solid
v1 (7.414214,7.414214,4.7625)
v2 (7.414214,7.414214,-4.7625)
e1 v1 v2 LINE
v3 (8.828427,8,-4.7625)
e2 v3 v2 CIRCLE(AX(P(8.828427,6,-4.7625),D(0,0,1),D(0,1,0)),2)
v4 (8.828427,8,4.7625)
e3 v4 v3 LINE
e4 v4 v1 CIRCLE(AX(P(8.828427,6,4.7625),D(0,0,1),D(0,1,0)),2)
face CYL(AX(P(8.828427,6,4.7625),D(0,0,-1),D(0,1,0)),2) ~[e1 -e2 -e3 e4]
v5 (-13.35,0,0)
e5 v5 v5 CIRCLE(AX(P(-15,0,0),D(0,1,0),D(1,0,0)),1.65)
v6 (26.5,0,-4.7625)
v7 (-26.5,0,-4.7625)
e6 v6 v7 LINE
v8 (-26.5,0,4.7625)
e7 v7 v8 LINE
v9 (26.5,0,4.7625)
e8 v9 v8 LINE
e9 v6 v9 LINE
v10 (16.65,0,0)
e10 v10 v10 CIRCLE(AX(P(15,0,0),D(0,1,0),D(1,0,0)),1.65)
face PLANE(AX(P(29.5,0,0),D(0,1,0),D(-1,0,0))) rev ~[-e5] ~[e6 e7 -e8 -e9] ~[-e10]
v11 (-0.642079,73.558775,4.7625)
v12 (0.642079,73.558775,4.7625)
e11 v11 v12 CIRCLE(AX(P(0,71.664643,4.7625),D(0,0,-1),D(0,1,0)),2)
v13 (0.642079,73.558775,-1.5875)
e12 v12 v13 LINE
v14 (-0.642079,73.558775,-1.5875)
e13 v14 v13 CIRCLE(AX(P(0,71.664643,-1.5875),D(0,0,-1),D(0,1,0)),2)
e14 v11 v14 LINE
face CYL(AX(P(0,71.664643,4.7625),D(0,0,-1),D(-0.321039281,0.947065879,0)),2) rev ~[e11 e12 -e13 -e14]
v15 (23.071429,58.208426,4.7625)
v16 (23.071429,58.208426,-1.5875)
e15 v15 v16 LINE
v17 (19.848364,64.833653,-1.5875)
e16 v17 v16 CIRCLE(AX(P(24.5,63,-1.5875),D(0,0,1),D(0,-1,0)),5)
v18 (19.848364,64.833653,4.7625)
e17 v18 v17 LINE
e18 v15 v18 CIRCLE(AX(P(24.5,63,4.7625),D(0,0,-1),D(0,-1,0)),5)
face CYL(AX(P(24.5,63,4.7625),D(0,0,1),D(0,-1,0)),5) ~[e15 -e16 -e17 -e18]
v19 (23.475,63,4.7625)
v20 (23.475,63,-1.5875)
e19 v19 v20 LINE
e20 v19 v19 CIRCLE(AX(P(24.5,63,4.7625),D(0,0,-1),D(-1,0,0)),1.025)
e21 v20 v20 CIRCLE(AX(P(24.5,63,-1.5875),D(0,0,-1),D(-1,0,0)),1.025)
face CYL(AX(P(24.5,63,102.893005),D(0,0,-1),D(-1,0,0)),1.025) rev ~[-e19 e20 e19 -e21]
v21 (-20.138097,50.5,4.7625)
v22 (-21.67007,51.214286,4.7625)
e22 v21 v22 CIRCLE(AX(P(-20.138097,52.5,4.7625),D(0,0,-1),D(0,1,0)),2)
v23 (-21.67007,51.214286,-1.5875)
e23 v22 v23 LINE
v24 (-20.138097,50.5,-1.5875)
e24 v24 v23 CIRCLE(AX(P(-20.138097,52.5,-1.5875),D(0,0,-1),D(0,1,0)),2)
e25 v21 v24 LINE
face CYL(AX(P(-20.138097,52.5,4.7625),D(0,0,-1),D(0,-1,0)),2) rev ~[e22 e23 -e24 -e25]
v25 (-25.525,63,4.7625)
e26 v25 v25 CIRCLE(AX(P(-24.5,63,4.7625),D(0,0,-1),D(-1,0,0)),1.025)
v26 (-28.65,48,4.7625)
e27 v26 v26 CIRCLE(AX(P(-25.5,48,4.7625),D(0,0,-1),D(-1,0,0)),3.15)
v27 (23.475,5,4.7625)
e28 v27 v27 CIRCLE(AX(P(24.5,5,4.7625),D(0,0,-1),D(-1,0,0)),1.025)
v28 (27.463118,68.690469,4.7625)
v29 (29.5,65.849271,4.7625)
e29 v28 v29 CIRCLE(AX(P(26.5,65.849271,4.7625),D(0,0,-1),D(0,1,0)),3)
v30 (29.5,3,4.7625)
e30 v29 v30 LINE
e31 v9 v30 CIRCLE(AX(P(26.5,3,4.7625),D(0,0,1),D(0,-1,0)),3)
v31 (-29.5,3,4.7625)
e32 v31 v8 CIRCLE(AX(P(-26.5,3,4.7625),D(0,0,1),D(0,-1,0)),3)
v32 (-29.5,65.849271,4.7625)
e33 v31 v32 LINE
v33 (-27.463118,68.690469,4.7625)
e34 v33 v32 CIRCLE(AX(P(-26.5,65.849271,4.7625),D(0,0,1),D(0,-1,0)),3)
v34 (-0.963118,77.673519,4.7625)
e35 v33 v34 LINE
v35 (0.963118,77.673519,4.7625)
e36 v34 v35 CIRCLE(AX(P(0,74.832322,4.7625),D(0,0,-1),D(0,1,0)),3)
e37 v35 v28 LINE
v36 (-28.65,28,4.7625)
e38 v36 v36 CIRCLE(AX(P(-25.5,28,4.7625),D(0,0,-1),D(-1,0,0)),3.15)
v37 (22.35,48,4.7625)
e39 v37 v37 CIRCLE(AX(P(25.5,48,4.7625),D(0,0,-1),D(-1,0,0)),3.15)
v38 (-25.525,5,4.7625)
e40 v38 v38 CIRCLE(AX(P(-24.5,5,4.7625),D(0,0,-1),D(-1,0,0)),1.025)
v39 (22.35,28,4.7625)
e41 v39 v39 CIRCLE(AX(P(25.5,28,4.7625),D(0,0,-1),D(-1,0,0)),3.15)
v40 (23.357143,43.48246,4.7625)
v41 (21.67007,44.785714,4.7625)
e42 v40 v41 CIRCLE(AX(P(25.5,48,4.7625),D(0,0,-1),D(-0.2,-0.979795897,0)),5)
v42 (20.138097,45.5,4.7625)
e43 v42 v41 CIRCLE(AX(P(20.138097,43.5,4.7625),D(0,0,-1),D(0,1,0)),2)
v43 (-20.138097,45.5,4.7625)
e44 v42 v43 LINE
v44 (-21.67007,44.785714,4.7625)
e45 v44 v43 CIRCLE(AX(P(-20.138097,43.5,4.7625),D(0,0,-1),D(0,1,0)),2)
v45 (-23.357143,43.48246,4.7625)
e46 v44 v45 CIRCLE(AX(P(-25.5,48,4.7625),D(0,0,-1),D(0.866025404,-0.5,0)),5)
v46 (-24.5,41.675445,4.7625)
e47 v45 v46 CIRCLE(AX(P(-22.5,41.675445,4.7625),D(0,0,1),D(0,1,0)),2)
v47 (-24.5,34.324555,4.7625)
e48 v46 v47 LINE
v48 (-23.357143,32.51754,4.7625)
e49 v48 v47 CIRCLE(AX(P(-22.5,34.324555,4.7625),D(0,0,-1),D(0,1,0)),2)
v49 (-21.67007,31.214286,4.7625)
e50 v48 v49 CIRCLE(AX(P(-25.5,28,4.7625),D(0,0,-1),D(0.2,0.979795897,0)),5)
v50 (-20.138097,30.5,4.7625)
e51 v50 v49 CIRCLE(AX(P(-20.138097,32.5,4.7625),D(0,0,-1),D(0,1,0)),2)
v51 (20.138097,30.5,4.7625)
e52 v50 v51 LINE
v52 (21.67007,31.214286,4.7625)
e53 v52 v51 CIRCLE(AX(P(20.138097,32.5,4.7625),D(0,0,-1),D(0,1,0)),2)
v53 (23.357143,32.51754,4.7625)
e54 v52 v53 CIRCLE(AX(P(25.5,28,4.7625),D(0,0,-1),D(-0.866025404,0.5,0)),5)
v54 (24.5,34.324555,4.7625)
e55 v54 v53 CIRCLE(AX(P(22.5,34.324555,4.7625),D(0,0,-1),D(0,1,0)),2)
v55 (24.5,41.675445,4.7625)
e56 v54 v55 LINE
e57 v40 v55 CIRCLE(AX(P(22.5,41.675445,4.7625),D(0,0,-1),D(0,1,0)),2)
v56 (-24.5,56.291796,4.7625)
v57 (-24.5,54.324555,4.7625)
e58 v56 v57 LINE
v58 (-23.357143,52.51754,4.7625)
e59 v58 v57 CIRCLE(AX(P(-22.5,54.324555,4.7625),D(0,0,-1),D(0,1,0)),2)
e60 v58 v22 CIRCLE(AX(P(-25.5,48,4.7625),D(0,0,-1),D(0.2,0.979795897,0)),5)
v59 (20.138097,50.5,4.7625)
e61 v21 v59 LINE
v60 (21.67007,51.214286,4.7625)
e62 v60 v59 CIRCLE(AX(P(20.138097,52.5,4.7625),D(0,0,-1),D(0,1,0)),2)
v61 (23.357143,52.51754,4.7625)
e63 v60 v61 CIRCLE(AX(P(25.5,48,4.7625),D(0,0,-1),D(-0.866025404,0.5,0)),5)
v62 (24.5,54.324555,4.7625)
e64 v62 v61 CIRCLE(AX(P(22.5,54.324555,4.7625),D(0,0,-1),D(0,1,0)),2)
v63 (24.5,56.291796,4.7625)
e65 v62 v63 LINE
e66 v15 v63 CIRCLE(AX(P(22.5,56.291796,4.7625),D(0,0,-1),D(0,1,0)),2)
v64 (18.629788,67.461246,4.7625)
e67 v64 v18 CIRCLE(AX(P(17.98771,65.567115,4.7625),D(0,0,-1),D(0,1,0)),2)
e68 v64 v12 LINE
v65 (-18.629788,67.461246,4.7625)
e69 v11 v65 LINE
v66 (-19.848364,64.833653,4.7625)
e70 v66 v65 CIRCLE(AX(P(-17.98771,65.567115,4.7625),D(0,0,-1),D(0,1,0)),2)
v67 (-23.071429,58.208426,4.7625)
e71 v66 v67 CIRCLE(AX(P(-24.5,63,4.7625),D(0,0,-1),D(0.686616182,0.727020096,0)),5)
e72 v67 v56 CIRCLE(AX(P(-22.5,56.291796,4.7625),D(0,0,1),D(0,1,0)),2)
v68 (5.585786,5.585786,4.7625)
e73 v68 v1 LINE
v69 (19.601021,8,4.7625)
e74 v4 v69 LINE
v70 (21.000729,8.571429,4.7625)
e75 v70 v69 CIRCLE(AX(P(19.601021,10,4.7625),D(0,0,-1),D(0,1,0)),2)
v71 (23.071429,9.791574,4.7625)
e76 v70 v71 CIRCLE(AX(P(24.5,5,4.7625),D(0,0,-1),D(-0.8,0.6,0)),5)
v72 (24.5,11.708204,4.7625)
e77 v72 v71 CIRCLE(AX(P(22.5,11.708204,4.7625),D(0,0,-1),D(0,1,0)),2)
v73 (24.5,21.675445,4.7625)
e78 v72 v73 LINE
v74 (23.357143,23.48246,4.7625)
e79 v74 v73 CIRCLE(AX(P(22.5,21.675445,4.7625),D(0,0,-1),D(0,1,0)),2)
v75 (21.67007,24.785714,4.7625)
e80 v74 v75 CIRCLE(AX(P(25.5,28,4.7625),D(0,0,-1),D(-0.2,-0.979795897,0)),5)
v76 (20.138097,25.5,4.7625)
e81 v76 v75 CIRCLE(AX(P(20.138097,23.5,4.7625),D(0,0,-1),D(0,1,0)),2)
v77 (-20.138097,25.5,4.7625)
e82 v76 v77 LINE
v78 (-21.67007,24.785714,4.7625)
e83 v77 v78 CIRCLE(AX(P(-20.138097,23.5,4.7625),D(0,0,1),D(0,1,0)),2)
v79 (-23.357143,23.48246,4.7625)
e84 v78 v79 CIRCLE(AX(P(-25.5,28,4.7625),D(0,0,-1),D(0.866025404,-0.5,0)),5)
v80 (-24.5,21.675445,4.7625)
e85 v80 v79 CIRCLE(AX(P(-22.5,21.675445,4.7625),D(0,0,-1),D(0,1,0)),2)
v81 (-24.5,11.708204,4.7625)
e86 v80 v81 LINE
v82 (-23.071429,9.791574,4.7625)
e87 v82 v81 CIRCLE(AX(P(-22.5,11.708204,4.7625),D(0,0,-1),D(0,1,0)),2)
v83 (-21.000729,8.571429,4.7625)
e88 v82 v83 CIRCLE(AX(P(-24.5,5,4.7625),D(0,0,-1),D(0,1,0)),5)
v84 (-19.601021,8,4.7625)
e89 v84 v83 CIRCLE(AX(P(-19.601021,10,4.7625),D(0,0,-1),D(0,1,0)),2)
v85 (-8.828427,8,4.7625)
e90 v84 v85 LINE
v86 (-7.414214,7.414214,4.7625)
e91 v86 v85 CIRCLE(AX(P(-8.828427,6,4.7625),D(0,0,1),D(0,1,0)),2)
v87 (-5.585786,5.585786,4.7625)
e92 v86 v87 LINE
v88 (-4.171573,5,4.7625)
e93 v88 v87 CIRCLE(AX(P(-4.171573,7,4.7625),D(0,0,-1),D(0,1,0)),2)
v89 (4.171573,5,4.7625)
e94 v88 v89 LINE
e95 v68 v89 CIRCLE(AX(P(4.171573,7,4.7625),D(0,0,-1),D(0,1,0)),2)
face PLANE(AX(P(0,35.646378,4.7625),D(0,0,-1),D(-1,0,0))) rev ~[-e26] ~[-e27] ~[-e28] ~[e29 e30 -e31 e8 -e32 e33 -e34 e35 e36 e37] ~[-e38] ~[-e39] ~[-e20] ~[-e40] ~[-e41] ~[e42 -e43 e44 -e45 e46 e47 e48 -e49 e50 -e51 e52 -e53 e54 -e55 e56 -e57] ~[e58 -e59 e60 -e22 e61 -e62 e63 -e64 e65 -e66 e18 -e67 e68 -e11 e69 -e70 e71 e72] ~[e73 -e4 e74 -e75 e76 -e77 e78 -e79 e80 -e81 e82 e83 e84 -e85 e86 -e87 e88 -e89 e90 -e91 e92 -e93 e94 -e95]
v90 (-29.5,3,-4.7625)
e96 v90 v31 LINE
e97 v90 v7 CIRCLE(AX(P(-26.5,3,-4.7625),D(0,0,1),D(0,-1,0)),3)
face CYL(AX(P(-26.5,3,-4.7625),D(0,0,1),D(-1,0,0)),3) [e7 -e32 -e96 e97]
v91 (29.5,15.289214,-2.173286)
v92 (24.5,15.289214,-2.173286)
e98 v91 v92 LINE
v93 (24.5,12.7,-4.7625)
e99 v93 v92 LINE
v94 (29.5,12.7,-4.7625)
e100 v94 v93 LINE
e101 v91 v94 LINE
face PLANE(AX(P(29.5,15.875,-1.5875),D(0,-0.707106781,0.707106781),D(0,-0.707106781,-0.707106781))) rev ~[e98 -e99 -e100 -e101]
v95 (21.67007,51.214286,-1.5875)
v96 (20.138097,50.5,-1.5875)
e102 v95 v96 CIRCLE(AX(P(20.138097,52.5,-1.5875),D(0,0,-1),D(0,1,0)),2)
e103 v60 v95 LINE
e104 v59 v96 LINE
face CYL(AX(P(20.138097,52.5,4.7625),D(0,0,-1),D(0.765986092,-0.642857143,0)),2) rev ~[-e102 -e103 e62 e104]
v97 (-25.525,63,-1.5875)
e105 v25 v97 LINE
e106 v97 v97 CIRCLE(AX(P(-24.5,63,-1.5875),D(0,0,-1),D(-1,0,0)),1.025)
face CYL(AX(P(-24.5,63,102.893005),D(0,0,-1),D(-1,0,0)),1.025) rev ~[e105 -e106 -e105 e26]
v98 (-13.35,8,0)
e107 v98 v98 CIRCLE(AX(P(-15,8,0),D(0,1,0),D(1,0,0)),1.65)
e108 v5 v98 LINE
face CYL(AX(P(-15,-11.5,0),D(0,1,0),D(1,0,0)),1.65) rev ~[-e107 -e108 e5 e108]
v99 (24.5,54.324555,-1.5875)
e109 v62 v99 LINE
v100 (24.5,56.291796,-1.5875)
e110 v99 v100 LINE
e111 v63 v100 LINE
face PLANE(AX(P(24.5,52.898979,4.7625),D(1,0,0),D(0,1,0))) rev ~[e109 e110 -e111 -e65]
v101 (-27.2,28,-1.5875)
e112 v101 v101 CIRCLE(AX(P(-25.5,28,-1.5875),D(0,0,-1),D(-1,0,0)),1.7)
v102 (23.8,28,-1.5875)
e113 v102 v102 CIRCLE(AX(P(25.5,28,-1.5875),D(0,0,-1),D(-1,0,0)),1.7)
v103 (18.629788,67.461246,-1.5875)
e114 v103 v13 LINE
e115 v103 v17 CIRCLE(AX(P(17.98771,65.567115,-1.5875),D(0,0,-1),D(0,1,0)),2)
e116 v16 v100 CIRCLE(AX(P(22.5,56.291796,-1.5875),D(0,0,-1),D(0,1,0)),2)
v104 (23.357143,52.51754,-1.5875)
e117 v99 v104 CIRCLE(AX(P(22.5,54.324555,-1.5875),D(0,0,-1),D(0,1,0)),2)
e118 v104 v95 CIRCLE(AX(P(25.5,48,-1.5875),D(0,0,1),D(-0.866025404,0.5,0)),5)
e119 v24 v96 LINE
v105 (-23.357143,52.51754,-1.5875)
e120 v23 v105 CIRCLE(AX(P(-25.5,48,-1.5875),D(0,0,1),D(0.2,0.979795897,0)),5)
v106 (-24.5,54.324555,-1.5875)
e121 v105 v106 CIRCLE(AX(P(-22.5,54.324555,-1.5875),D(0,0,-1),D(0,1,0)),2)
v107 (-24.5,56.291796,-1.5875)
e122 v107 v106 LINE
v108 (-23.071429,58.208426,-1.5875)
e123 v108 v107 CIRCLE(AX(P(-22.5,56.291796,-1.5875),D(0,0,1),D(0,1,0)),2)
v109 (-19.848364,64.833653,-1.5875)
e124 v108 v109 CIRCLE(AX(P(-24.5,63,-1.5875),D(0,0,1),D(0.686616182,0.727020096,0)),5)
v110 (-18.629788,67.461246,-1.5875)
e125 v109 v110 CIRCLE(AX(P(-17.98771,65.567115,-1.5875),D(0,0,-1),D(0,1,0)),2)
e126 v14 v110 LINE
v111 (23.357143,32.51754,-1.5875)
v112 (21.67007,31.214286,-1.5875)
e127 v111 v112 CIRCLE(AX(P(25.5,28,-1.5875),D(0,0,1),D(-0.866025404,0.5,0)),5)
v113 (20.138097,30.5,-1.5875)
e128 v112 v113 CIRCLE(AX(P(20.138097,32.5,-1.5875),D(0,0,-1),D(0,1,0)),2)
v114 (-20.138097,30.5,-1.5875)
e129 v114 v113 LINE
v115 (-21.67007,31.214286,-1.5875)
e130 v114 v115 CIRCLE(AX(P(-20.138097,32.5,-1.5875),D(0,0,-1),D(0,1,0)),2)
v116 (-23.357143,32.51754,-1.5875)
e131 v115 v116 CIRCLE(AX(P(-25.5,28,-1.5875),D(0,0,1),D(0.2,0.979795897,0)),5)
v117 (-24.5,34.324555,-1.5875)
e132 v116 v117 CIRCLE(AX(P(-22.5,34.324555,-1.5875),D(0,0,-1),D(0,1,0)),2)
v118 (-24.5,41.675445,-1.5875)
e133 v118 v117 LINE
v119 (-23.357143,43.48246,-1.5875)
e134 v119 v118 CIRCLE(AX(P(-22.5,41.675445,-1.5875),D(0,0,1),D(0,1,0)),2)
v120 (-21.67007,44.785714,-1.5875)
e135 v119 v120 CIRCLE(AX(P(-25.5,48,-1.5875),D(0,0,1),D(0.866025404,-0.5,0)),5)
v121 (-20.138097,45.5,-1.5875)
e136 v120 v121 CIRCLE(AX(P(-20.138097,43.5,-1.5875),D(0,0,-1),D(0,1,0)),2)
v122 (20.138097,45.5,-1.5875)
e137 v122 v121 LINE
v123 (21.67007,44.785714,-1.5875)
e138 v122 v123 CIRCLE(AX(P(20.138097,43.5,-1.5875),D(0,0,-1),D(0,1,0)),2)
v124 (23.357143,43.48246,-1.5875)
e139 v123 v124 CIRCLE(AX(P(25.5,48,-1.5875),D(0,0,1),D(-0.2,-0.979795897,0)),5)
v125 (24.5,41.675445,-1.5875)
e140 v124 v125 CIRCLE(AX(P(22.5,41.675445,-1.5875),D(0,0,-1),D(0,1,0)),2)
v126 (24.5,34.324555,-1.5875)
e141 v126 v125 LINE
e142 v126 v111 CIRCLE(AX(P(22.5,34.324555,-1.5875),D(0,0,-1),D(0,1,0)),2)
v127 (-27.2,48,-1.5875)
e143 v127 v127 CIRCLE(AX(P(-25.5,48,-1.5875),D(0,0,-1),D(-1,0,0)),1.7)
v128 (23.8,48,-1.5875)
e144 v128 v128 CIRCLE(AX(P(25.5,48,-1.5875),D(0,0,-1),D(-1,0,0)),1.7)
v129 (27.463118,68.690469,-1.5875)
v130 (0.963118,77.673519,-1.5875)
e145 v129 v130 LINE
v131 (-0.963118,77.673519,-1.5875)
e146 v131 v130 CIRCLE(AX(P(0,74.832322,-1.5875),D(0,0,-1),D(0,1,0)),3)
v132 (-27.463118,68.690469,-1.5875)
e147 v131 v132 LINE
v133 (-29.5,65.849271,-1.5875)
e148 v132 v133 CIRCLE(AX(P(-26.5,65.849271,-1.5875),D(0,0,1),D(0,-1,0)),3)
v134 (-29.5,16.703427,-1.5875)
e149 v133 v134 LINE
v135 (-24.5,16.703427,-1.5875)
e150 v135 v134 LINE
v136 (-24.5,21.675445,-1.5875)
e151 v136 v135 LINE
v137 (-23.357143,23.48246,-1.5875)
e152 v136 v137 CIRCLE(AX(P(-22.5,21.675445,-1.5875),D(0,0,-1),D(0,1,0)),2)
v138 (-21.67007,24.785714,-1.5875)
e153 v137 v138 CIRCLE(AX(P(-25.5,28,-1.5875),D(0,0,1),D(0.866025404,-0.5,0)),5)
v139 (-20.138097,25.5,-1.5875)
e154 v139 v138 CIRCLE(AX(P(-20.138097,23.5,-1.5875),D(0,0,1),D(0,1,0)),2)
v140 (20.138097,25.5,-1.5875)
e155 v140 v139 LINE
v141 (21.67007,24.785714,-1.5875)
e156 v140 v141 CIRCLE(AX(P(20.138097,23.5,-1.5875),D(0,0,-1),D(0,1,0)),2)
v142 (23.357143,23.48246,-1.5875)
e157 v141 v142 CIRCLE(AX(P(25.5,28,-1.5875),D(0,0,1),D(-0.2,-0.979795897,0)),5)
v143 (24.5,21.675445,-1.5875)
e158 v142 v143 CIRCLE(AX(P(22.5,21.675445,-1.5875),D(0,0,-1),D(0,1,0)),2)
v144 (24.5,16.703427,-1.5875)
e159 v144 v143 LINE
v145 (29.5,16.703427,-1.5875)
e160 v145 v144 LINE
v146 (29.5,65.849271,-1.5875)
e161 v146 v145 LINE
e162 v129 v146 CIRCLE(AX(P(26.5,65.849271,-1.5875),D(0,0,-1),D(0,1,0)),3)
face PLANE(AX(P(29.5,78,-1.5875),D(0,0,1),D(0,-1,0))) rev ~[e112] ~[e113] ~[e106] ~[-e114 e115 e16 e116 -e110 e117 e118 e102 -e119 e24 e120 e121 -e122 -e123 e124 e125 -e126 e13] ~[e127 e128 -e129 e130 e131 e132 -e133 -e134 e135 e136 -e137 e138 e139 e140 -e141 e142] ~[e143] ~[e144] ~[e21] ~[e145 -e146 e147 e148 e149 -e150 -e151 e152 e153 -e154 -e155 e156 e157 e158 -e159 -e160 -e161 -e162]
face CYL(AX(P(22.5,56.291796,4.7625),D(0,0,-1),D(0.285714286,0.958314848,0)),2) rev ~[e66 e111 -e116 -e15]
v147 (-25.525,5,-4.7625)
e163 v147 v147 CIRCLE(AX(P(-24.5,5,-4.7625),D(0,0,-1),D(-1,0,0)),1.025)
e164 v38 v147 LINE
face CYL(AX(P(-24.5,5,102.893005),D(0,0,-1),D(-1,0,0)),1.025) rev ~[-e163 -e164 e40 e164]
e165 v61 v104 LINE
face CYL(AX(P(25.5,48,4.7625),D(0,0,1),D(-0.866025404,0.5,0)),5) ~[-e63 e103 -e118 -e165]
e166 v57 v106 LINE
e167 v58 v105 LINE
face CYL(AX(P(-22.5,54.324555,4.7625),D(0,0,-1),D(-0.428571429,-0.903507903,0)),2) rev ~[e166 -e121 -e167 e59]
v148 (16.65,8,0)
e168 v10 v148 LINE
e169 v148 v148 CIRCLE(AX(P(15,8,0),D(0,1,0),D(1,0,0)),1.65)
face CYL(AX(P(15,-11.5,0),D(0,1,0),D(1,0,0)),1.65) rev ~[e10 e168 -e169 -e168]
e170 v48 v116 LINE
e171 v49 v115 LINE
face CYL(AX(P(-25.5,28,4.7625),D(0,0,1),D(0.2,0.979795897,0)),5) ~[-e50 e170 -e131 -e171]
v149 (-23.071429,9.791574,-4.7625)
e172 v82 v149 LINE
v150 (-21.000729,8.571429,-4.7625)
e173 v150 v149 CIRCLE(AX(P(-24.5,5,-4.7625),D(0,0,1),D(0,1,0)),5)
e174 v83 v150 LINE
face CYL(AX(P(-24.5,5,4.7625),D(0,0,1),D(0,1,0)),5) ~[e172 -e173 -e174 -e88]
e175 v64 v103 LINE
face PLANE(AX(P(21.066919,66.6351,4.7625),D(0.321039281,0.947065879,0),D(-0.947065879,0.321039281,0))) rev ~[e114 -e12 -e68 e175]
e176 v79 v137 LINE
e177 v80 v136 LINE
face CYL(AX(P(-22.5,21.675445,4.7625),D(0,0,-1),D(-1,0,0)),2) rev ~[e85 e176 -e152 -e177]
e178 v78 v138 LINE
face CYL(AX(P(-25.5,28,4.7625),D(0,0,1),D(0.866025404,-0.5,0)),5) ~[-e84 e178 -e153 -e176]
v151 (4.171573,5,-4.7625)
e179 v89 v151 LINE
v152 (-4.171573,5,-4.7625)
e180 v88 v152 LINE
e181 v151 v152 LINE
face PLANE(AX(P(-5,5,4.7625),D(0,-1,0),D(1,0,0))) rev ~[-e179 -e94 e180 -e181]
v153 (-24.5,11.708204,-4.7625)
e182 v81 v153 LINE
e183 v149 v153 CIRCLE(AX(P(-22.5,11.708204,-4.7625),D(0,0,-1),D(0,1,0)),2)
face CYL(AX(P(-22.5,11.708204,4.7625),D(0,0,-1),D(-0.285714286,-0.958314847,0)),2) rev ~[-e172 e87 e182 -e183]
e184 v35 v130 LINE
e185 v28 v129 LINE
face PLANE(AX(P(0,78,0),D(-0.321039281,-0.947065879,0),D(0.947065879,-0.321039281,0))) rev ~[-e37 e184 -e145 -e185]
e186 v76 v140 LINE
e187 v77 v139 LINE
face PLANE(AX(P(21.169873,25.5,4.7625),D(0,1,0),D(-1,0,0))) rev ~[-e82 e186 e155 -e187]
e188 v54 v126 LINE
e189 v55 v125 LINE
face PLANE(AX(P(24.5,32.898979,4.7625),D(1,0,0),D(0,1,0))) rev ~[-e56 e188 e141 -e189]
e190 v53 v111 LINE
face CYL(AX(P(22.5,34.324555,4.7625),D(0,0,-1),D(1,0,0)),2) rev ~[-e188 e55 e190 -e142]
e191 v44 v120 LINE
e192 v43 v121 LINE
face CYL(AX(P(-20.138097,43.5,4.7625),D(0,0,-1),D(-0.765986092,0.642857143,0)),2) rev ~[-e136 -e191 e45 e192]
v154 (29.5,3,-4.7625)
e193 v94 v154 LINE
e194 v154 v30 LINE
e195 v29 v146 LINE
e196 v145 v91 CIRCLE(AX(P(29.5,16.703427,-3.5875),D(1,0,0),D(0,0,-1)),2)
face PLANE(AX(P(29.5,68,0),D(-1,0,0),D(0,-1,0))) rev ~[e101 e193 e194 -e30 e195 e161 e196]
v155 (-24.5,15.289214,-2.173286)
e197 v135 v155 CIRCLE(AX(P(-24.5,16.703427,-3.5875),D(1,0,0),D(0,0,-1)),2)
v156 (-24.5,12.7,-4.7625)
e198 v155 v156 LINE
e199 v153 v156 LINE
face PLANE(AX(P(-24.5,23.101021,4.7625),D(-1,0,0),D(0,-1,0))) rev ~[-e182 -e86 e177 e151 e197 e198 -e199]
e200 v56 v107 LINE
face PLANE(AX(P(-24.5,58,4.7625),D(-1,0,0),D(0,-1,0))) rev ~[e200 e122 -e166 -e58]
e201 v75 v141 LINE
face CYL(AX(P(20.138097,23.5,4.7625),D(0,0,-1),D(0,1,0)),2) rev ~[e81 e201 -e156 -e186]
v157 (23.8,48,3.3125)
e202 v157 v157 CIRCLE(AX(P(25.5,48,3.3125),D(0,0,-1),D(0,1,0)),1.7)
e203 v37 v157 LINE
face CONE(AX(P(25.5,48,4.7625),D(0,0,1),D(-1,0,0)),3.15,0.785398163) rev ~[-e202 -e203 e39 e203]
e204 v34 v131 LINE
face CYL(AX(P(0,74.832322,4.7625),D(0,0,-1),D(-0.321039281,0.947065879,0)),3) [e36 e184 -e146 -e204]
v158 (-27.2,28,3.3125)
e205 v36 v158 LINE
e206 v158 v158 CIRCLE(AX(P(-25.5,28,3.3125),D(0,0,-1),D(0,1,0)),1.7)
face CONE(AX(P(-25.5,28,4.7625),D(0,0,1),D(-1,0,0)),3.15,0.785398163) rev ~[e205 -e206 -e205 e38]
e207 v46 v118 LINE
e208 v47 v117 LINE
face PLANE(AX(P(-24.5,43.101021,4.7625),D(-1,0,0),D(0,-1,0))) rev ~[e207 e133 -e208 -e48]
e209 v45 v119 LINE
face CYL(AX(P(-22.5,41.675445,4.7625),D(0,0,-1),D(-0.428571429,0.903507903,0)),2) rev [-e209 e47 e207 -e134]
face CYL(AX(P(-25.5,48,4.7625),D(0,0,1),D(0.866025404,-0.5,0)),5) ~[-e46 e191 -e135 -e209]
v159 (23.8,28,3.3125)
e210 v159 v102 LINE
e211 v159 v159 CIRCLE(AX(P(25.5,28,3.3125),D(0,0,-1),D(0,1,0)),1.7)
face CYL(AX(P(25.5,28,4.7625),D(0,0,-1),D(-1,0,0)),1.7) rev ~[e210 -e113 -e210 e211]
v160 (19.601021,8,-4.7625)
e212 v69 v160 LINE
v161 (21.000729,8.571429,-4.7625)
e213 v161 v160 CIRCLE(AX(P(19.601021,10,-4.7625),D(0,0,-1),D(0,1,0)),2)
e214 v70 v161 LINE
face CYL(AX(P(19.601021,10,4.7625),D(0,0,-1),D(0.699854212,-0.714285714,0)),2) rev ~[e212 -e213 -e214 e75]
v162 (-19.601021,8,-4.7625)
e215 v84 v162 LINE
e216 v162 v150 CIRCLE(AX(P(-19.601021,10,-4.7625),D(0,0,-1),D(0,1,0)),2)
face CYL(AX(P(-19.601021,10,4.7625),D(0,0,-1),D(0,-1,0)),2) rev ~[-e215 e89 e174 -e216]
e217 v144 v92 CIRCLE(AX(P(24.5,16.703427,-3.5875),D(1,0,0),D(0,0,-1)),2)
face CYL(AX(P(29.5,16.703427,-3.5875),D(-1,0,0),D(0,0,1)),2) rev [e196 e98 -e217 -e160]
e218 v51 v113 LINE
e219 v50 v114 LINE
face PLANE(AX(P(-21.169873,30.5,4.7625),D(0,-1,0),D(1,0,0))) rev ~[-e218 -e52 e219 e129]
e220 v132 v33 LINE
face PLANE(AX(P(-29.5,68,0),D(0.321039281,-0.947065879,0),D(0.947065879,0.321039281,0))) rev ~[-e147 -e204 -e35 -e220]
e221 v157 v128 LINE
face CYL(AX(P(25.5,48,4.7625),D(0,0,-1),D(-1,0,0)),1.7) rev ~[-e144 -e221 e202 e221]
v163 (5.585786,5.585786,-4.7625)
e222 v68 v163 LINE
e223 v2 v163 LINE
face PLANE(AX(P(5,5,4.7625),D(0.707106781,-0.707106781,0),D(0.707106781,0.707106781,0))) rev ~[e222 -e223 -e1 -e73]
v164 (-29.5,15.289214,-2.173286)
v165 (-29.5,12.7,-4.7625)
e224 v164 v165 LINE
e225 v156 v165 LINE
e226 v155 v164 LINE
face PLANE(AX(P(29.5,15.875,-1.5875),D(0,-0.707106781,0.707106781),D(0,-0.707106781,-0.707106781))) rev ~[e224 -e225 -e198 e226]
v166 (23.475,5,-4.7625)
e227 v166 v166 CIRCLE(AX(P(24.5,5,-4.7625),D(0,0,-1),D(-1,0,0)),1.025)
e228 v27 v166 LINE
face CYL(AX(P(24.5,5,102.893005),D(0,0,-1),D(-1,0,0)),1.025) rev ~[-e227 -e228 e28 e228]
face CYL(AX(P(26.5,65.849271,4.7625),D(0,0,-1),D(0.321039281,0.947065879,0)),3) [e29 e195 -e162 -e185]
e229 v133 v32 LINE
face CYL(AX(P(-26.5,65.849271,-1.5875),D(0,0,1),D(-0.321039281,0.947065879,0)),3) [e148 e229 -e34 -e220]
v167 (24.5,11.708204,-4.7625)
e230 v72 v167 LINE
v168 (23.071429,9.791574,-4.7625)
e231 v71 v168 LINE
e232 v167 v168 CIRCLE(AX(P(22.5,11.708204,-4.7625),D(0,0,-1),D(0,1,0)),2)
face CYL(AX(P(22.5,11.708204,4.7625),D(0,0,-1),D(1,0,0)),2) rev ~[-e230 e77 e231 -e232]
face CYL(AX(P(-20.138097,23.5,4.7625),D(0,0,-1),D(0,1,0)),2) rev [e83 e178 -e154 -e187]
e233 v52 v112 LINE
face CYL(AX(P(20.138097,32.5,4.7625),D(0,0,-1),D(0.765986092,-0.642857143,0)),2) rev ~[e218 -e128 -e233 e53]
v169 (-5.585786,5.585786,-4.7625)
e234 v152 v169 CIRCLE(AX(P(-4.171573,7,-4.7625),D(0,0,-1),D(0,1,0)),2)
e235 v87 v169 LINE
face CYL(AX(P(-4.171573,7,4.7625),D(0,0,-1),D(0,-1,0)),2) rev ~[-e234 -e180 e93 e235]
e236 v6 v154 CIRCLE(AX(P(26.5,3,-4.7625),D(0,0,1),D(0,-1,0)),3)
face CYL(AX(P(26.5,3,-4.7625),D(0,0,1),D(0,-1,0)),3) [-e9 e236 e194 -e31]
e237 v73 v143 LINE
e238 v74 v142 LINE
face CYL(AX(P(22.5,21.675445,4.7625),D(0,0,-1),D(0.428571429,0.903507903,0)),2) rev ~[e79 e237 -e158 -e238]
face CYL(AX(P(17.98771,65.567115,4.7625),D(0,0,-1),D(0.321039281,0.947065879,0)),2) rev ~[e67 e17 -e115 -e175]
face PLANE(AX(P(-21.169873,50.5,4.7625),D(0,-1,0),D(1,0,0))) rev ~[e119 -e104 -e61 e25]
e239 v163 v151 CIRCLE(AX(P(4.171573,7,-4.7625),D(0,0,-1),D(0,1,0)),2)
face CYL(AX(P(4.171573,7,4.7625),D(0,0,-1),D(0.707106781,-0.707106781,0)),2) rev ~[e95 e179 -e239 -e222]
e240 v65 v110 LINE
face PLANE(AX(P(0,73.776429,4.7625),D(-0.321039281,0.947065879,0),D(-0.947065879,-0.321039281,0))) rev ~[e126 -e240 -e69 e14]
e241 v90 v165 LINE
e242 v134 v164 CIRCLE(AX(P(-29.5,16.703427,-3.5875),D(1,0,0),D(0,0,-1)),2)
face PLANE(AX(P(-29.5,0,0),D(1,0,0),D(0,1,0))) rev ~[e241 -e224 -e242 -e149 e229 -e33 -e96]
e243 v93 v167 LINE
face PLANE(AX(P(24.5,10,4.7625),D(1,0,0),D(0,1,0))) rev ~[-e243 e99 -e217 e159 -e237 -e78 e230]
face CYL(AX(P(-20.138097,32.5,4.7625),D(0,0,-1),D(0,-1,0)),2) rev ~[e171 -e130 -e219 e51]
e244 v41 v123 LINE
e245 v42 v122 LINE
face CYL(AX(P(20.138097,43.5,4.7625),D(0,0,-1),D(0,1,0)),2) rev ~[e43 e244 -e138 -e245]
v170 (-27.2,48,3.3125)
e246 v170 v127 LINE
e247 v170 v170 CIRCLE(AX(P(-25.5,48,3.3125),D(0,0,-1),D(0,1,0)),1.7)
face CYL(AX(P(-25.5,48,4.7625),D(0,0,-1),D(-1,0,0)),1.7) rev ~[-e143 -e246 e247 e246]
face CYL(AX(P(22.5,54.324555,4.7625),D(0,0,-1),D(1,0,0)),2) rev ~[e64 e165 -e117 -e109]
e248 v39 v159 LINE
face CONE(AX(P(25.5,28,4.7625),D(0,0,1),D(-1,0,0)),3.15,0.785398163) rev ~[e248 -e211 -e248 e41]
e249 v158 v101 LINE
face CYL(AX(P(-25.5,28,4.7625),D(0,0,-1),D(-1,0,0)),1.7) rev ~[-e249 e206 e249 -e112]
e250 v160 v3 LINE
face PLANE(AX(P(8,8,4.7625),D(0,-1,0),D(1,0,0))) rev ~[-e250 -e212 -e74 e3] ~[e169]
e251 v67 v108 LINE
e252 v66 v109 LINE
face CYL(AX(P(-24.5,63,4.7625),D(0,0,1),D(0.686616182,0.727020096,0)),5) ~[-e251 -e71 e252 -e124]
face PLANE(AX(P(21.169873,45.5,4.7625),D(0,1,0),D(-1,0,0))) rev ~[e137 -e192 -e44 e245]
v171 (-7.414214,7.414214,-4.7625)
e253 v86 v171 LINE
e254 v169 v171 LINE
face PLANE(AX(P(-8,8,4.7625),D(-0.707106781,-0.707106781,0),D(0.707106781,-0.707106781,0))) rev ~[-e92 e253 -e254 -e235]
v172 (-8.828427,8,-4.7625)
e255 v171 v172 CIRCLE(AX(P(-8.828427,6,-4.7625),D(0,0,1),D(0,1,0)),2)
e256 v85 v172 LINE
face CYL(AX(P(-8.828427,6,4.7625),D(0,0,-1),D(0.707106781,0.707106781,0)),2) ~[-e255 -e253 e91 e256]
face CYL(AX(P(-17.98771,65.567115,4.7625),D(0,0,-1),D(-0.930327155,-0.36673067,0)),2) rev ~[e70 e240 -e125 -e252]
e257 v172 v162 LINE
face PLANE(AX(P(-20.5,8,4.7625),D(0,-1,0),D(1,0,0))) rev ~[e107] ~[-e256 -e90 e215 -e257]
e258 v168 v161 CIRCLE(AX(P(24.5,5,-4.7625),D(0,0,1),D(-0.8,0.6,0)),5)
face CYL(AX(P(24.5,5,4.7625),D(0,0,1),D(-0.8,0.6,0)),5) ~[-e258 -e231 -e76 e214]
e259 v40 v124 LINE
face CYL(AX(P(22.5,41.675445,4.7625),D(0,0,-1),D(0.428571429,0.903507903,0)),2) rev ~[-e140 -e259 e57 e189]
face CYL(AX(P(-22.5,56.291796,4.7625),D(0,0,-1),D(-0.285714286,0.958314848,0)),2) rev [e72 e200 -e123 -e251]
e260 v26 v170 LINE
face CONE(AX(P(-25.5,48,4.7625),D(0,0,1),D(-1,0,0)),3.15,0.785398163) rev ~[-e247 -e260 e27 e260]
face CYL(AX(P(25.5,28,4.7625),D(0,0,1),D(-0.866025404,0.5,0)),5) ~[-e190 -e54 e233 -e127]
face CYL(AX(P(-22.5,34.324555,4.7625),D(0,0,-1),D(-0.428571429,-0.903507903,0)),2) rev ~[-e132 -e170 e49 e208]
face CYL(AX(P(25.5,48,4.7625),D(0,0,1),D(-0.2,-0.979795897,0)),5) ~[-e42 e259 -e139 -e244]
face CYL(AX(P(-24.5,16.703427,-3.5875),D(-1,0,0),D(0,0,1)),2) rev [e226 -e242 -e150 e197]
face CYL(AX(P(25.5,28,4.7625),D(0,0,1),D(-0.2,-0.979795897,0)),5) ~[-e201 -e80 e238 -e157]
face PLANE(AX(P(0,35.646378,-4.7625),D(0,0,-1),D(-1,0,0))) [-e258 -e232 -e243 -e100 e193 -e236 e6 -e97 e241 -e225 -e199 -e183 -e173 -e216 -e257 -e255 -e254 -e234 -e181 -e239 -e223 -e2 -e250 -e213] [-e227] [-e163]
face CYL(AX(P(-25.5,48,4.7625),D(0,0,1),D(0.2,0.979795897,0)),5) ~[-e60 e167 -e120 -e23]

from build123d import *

# Parameters (mm, degrees)
BOSS_EXTRUDE1_DEPTH                             = 4.7625
CUT_EXTRUDE1_DEPTH                              = 98.916706472
FILLET1_R                                       = 3
M2_5X0_45_TAPPED_HOLE1_D                        = 2.05
M4X0_7_TAPPED_HOLE1_D                           = 3.3
M4X0_7_TAPPED_HOLE1_DEPTH                       = 11.5
M4X0_7_TAPPED_HOLE1_TIP                         = 0.991420021
CSK_FOR_M3_FLAT_HEAD_MACHINE_SCREW1_D           = 3.4
CSK_FOR_M3_FLAT_HEAD_MACHINE_SCREW1_CSINK_D     = 6.3
CSK_FOR_M3_FLAT_HEAD_MACHINE_SCREW1_CSINK_ANGLE = 90
CUT_EXTRUDE2_DEPTH                              = 84.778552935
FILLET2_R                                       = 2


with BuildPart() as part:
    # Sketch1 → Boss-Extrude1 (new, symmetric)
    with BuildSketch(Plane.XY):
        Polygon((-29.5, 68), (0, 78), (29.5, 68), (29.5, 0), (-29.5, 0), align=None)
    extrude(amount=BOSS_EXTRUDE1_DEPTH, both=True)

    # Sketch2 → Cut-Extrude1 (cut, through all)
    with BuildSketch(Plane(origin=(29.5, 0, 0), x_dir=(0, 0, -1), z_dir=(1, 0, 0))):
        Polygon((1.5875, 78), (1.5875, 15.875), (4.7625, 12.7), (4.7625, 78), align=None)
    extrude(amount=-CUT_EXTRUDE1_DEPTH, mode=Mode.SUBTRACT)

    # Fillet1
    fillet1_edges = [part.edges().sort_by_distance(p)[0] for p in [
        (0, 78, 1.5875),
        (29.5, 68, 1.5875),
        (29.5, 0, 0),
        (-29.5, 0, 0),
        (-29.5, 68, 1.5875),
    ]]
    fillet(fillet1_edges, radius=FILLET1_R)

    # M2.5x0.45 Tapped Hole1 (through all)
    with Locations(Plane.XY.offset(4.7625)):
        with Locations((-24.5, 5), (24.5, 5), (-24.5, 63), (24.5, 63)):
            Hole(M2_5X0_45_TAPPED_HOLE1_D / 2)

    # M4x0.7 Tapped Hole1
    with Locations(Plane(origin=(0, 0, 0), x_dir=(-1, 0, 0), z_dir=(0, -1, 0))):
        with Locations((-15, 0), (15, 0)):
            Hole(M4X0_7_TAPPED_HOLE1_D / 2, depth=M4X0_7_TAPPED_HOLE1_DEPTH)
            with Locations((0, 0, -(M4X0_7_TAPPED_HOLE1_DEPTH + M4X0_7_TAPPED_HOLE1_TIP / 2))):  # 118° drill point
                Cone(0, M4X0_7_TAPPED_HOLE1_D / 2, M4X0_7_TAPPED_HOLE1_TIP, mode=Mode.SUBTRACT)

    # CSK for M3 Flat Head Machine Screw1 (through all)
    with Locations(Plane.XY.offset(4.7625)):
        with Locations((-25.5, 28), (25.5, 28), (-25.5, 48), (25.5, 48)):
            CounterSinkHole(CSK_FOR_M3_FLAT_HEAD_MACHINE_SCREW1_D / 2, CSK_FOR_M3_FLAT_HEAD_MACHINE_SCREW1_CSINK_D / 2, counter_sink_angle=CSK_FOR_M3_FLAT_HEAD_MACHINE_SCREW1_CSINK_ANGLE)

    # Sketch7 → Cut-Extrude2 (cut, through all)
    with BuildSketch(Plane.XY.offset(4.7625)):
        with BuildLine():
            Line((-24.5, 43.101020514), (-24.5, 32.898979486))
            ThreePointArc((-24.5, 32.898979486), (-22.577443045, 32.056927513), (-21.169872981, 30.5))
            Line((-21.169872981, 30.5), (21.169872981, 30.5))
            ThreePointArc((21.169872981, 30.5), (22.577443045, 32.056927513), (24.5, 32.898979486))
            Line((24.5, 32.898979486), (24.5, 43.101020514))
            ThreePointArc((24.5, 43.101020514), (22.577443045, 43.943072487), (21.169872981, 45.5))
            Line((21.169872981, 45.5), (-21.169872981, 45.5))
            ThreePointArc((-21.169872981, 45.5), (-22.577443045, 43.943072487), (-24.5, 43.101020514))
        make_face()
        with BuildLine():
            ThreePointArc((-21.169872981, 25.5), (-22.577443045, 23.943072487), (-24.5, 23.101020514))
            Line((-24.5, 23.101020514), (-24.5, 10))
            ThreePointArc((-24.5, 10), (-22.263932023, 9.472135955), (-20.5, 8))
            Line((-20.5, 8), (-8, 8))
            Line((-8, 8), (-5, 5))
            Line((-5, 5), (5, 5))
            Line((5, 5), (8, 8))
            Line((8, 8), (20.5, 8))
            ThreePointArc((20.5, 8), (22.263932023, 9.472135955), (24.5, 10))
            Line((24.5, 10), (24.5, 23.101020514))
            ThreePointArc((24.5, 23.101020514), (22.577443045, 23.943072487), (21.169872981, 25.5))
            Line((21.169872981, 25.5), (-21.169872981, 25.5))
        make_face()
        with BuildLine():
            Line((-24.5, 58), (-24.5, 52.898979486))
            ThreePointArc((-24.5, 52.898979486), (-22.577443045, 52.056927513), (-21.169872981, 50.5))
            Line((-21.169872981, 50.5), (21.169872981, 50.5))
            ThreePointArc((21.169872981, 50.5), (22.577443045, 52.056927513), (24.5, 52.898979486))
            Line((24.5, 52.898979486), (24.5, 58))
            ThreePointArc((24.5, 58), (19.853737933, 61.15277267), (21.066919092, 66.635100477))
            Line((21.066919092, 66.635100477), (0, 73.776428982))
            Line((0, 73.776428982), (-21.066919092, 66.635100477))
            ThreePointArc((-21.066919092, 66.635100477), (-19.853737933, 61.15277267), (-24.5, 58))
        make_face()
    extrude(amount=-CUT_EXTRUDE2_DEPTH, mode=Mode.SUBTRACT)

    # Fillet2
    fillet2_edges = [part.edges().sort_by_distance(p)[0] for p in [
        (27, 15.875, -1.5875),
        (21.169872981, 50.5, 1.5875),
        (-21.169872981, 50.5, 1.5875),
        (-24.5, 52.898979486, 1.5875),
        (-24.5, 58, 1.5875),
        (-21.066919092, 66.635100477, 1.5875),
        (0, 73.776428982, 1.5875),
        (21.066919092, 66.635100477, 1.5875),
        (24.5, 58, 1.5875),
        (24.5, 52.898979486, 1.5875),
        (24.5, 43.101020514, 1.5875),
        (24.5, 32.898979486, 1.5875),
        (21.169872981, 30.5, 1.5875),
        (-21.169872981, 30.5, 1.5875),
        (-24.5, 32.898979486, 1.5875),
        (-24.5, 43.101020514, 1.5875),
        (-21.169872981, 45.5, 1.5875),
        (21.169872981, 45.5, 1.5875),
        (-24.5, 23.101020514, 1.5875),
        (-21.169872981, 25.5, 1.5875),
        (21.169872981, 25.5, 1.5875),
        (24.5, 23.101020514, 1.5875),
        (-24.5, 10, 0),
        (-8, 8, 0),
        (20.5, 8, 0),
        (24.5, 10, 0),
        (8, 8, 0),
        (5, 5, 0),
        (-5, 5, 0),
        (-20.5, 8, 0),
        (-27, 15.875, -1.5875),
    ]]
    fillet(fillet2_edges, radius=FILLET2_R)


solid = part.part
